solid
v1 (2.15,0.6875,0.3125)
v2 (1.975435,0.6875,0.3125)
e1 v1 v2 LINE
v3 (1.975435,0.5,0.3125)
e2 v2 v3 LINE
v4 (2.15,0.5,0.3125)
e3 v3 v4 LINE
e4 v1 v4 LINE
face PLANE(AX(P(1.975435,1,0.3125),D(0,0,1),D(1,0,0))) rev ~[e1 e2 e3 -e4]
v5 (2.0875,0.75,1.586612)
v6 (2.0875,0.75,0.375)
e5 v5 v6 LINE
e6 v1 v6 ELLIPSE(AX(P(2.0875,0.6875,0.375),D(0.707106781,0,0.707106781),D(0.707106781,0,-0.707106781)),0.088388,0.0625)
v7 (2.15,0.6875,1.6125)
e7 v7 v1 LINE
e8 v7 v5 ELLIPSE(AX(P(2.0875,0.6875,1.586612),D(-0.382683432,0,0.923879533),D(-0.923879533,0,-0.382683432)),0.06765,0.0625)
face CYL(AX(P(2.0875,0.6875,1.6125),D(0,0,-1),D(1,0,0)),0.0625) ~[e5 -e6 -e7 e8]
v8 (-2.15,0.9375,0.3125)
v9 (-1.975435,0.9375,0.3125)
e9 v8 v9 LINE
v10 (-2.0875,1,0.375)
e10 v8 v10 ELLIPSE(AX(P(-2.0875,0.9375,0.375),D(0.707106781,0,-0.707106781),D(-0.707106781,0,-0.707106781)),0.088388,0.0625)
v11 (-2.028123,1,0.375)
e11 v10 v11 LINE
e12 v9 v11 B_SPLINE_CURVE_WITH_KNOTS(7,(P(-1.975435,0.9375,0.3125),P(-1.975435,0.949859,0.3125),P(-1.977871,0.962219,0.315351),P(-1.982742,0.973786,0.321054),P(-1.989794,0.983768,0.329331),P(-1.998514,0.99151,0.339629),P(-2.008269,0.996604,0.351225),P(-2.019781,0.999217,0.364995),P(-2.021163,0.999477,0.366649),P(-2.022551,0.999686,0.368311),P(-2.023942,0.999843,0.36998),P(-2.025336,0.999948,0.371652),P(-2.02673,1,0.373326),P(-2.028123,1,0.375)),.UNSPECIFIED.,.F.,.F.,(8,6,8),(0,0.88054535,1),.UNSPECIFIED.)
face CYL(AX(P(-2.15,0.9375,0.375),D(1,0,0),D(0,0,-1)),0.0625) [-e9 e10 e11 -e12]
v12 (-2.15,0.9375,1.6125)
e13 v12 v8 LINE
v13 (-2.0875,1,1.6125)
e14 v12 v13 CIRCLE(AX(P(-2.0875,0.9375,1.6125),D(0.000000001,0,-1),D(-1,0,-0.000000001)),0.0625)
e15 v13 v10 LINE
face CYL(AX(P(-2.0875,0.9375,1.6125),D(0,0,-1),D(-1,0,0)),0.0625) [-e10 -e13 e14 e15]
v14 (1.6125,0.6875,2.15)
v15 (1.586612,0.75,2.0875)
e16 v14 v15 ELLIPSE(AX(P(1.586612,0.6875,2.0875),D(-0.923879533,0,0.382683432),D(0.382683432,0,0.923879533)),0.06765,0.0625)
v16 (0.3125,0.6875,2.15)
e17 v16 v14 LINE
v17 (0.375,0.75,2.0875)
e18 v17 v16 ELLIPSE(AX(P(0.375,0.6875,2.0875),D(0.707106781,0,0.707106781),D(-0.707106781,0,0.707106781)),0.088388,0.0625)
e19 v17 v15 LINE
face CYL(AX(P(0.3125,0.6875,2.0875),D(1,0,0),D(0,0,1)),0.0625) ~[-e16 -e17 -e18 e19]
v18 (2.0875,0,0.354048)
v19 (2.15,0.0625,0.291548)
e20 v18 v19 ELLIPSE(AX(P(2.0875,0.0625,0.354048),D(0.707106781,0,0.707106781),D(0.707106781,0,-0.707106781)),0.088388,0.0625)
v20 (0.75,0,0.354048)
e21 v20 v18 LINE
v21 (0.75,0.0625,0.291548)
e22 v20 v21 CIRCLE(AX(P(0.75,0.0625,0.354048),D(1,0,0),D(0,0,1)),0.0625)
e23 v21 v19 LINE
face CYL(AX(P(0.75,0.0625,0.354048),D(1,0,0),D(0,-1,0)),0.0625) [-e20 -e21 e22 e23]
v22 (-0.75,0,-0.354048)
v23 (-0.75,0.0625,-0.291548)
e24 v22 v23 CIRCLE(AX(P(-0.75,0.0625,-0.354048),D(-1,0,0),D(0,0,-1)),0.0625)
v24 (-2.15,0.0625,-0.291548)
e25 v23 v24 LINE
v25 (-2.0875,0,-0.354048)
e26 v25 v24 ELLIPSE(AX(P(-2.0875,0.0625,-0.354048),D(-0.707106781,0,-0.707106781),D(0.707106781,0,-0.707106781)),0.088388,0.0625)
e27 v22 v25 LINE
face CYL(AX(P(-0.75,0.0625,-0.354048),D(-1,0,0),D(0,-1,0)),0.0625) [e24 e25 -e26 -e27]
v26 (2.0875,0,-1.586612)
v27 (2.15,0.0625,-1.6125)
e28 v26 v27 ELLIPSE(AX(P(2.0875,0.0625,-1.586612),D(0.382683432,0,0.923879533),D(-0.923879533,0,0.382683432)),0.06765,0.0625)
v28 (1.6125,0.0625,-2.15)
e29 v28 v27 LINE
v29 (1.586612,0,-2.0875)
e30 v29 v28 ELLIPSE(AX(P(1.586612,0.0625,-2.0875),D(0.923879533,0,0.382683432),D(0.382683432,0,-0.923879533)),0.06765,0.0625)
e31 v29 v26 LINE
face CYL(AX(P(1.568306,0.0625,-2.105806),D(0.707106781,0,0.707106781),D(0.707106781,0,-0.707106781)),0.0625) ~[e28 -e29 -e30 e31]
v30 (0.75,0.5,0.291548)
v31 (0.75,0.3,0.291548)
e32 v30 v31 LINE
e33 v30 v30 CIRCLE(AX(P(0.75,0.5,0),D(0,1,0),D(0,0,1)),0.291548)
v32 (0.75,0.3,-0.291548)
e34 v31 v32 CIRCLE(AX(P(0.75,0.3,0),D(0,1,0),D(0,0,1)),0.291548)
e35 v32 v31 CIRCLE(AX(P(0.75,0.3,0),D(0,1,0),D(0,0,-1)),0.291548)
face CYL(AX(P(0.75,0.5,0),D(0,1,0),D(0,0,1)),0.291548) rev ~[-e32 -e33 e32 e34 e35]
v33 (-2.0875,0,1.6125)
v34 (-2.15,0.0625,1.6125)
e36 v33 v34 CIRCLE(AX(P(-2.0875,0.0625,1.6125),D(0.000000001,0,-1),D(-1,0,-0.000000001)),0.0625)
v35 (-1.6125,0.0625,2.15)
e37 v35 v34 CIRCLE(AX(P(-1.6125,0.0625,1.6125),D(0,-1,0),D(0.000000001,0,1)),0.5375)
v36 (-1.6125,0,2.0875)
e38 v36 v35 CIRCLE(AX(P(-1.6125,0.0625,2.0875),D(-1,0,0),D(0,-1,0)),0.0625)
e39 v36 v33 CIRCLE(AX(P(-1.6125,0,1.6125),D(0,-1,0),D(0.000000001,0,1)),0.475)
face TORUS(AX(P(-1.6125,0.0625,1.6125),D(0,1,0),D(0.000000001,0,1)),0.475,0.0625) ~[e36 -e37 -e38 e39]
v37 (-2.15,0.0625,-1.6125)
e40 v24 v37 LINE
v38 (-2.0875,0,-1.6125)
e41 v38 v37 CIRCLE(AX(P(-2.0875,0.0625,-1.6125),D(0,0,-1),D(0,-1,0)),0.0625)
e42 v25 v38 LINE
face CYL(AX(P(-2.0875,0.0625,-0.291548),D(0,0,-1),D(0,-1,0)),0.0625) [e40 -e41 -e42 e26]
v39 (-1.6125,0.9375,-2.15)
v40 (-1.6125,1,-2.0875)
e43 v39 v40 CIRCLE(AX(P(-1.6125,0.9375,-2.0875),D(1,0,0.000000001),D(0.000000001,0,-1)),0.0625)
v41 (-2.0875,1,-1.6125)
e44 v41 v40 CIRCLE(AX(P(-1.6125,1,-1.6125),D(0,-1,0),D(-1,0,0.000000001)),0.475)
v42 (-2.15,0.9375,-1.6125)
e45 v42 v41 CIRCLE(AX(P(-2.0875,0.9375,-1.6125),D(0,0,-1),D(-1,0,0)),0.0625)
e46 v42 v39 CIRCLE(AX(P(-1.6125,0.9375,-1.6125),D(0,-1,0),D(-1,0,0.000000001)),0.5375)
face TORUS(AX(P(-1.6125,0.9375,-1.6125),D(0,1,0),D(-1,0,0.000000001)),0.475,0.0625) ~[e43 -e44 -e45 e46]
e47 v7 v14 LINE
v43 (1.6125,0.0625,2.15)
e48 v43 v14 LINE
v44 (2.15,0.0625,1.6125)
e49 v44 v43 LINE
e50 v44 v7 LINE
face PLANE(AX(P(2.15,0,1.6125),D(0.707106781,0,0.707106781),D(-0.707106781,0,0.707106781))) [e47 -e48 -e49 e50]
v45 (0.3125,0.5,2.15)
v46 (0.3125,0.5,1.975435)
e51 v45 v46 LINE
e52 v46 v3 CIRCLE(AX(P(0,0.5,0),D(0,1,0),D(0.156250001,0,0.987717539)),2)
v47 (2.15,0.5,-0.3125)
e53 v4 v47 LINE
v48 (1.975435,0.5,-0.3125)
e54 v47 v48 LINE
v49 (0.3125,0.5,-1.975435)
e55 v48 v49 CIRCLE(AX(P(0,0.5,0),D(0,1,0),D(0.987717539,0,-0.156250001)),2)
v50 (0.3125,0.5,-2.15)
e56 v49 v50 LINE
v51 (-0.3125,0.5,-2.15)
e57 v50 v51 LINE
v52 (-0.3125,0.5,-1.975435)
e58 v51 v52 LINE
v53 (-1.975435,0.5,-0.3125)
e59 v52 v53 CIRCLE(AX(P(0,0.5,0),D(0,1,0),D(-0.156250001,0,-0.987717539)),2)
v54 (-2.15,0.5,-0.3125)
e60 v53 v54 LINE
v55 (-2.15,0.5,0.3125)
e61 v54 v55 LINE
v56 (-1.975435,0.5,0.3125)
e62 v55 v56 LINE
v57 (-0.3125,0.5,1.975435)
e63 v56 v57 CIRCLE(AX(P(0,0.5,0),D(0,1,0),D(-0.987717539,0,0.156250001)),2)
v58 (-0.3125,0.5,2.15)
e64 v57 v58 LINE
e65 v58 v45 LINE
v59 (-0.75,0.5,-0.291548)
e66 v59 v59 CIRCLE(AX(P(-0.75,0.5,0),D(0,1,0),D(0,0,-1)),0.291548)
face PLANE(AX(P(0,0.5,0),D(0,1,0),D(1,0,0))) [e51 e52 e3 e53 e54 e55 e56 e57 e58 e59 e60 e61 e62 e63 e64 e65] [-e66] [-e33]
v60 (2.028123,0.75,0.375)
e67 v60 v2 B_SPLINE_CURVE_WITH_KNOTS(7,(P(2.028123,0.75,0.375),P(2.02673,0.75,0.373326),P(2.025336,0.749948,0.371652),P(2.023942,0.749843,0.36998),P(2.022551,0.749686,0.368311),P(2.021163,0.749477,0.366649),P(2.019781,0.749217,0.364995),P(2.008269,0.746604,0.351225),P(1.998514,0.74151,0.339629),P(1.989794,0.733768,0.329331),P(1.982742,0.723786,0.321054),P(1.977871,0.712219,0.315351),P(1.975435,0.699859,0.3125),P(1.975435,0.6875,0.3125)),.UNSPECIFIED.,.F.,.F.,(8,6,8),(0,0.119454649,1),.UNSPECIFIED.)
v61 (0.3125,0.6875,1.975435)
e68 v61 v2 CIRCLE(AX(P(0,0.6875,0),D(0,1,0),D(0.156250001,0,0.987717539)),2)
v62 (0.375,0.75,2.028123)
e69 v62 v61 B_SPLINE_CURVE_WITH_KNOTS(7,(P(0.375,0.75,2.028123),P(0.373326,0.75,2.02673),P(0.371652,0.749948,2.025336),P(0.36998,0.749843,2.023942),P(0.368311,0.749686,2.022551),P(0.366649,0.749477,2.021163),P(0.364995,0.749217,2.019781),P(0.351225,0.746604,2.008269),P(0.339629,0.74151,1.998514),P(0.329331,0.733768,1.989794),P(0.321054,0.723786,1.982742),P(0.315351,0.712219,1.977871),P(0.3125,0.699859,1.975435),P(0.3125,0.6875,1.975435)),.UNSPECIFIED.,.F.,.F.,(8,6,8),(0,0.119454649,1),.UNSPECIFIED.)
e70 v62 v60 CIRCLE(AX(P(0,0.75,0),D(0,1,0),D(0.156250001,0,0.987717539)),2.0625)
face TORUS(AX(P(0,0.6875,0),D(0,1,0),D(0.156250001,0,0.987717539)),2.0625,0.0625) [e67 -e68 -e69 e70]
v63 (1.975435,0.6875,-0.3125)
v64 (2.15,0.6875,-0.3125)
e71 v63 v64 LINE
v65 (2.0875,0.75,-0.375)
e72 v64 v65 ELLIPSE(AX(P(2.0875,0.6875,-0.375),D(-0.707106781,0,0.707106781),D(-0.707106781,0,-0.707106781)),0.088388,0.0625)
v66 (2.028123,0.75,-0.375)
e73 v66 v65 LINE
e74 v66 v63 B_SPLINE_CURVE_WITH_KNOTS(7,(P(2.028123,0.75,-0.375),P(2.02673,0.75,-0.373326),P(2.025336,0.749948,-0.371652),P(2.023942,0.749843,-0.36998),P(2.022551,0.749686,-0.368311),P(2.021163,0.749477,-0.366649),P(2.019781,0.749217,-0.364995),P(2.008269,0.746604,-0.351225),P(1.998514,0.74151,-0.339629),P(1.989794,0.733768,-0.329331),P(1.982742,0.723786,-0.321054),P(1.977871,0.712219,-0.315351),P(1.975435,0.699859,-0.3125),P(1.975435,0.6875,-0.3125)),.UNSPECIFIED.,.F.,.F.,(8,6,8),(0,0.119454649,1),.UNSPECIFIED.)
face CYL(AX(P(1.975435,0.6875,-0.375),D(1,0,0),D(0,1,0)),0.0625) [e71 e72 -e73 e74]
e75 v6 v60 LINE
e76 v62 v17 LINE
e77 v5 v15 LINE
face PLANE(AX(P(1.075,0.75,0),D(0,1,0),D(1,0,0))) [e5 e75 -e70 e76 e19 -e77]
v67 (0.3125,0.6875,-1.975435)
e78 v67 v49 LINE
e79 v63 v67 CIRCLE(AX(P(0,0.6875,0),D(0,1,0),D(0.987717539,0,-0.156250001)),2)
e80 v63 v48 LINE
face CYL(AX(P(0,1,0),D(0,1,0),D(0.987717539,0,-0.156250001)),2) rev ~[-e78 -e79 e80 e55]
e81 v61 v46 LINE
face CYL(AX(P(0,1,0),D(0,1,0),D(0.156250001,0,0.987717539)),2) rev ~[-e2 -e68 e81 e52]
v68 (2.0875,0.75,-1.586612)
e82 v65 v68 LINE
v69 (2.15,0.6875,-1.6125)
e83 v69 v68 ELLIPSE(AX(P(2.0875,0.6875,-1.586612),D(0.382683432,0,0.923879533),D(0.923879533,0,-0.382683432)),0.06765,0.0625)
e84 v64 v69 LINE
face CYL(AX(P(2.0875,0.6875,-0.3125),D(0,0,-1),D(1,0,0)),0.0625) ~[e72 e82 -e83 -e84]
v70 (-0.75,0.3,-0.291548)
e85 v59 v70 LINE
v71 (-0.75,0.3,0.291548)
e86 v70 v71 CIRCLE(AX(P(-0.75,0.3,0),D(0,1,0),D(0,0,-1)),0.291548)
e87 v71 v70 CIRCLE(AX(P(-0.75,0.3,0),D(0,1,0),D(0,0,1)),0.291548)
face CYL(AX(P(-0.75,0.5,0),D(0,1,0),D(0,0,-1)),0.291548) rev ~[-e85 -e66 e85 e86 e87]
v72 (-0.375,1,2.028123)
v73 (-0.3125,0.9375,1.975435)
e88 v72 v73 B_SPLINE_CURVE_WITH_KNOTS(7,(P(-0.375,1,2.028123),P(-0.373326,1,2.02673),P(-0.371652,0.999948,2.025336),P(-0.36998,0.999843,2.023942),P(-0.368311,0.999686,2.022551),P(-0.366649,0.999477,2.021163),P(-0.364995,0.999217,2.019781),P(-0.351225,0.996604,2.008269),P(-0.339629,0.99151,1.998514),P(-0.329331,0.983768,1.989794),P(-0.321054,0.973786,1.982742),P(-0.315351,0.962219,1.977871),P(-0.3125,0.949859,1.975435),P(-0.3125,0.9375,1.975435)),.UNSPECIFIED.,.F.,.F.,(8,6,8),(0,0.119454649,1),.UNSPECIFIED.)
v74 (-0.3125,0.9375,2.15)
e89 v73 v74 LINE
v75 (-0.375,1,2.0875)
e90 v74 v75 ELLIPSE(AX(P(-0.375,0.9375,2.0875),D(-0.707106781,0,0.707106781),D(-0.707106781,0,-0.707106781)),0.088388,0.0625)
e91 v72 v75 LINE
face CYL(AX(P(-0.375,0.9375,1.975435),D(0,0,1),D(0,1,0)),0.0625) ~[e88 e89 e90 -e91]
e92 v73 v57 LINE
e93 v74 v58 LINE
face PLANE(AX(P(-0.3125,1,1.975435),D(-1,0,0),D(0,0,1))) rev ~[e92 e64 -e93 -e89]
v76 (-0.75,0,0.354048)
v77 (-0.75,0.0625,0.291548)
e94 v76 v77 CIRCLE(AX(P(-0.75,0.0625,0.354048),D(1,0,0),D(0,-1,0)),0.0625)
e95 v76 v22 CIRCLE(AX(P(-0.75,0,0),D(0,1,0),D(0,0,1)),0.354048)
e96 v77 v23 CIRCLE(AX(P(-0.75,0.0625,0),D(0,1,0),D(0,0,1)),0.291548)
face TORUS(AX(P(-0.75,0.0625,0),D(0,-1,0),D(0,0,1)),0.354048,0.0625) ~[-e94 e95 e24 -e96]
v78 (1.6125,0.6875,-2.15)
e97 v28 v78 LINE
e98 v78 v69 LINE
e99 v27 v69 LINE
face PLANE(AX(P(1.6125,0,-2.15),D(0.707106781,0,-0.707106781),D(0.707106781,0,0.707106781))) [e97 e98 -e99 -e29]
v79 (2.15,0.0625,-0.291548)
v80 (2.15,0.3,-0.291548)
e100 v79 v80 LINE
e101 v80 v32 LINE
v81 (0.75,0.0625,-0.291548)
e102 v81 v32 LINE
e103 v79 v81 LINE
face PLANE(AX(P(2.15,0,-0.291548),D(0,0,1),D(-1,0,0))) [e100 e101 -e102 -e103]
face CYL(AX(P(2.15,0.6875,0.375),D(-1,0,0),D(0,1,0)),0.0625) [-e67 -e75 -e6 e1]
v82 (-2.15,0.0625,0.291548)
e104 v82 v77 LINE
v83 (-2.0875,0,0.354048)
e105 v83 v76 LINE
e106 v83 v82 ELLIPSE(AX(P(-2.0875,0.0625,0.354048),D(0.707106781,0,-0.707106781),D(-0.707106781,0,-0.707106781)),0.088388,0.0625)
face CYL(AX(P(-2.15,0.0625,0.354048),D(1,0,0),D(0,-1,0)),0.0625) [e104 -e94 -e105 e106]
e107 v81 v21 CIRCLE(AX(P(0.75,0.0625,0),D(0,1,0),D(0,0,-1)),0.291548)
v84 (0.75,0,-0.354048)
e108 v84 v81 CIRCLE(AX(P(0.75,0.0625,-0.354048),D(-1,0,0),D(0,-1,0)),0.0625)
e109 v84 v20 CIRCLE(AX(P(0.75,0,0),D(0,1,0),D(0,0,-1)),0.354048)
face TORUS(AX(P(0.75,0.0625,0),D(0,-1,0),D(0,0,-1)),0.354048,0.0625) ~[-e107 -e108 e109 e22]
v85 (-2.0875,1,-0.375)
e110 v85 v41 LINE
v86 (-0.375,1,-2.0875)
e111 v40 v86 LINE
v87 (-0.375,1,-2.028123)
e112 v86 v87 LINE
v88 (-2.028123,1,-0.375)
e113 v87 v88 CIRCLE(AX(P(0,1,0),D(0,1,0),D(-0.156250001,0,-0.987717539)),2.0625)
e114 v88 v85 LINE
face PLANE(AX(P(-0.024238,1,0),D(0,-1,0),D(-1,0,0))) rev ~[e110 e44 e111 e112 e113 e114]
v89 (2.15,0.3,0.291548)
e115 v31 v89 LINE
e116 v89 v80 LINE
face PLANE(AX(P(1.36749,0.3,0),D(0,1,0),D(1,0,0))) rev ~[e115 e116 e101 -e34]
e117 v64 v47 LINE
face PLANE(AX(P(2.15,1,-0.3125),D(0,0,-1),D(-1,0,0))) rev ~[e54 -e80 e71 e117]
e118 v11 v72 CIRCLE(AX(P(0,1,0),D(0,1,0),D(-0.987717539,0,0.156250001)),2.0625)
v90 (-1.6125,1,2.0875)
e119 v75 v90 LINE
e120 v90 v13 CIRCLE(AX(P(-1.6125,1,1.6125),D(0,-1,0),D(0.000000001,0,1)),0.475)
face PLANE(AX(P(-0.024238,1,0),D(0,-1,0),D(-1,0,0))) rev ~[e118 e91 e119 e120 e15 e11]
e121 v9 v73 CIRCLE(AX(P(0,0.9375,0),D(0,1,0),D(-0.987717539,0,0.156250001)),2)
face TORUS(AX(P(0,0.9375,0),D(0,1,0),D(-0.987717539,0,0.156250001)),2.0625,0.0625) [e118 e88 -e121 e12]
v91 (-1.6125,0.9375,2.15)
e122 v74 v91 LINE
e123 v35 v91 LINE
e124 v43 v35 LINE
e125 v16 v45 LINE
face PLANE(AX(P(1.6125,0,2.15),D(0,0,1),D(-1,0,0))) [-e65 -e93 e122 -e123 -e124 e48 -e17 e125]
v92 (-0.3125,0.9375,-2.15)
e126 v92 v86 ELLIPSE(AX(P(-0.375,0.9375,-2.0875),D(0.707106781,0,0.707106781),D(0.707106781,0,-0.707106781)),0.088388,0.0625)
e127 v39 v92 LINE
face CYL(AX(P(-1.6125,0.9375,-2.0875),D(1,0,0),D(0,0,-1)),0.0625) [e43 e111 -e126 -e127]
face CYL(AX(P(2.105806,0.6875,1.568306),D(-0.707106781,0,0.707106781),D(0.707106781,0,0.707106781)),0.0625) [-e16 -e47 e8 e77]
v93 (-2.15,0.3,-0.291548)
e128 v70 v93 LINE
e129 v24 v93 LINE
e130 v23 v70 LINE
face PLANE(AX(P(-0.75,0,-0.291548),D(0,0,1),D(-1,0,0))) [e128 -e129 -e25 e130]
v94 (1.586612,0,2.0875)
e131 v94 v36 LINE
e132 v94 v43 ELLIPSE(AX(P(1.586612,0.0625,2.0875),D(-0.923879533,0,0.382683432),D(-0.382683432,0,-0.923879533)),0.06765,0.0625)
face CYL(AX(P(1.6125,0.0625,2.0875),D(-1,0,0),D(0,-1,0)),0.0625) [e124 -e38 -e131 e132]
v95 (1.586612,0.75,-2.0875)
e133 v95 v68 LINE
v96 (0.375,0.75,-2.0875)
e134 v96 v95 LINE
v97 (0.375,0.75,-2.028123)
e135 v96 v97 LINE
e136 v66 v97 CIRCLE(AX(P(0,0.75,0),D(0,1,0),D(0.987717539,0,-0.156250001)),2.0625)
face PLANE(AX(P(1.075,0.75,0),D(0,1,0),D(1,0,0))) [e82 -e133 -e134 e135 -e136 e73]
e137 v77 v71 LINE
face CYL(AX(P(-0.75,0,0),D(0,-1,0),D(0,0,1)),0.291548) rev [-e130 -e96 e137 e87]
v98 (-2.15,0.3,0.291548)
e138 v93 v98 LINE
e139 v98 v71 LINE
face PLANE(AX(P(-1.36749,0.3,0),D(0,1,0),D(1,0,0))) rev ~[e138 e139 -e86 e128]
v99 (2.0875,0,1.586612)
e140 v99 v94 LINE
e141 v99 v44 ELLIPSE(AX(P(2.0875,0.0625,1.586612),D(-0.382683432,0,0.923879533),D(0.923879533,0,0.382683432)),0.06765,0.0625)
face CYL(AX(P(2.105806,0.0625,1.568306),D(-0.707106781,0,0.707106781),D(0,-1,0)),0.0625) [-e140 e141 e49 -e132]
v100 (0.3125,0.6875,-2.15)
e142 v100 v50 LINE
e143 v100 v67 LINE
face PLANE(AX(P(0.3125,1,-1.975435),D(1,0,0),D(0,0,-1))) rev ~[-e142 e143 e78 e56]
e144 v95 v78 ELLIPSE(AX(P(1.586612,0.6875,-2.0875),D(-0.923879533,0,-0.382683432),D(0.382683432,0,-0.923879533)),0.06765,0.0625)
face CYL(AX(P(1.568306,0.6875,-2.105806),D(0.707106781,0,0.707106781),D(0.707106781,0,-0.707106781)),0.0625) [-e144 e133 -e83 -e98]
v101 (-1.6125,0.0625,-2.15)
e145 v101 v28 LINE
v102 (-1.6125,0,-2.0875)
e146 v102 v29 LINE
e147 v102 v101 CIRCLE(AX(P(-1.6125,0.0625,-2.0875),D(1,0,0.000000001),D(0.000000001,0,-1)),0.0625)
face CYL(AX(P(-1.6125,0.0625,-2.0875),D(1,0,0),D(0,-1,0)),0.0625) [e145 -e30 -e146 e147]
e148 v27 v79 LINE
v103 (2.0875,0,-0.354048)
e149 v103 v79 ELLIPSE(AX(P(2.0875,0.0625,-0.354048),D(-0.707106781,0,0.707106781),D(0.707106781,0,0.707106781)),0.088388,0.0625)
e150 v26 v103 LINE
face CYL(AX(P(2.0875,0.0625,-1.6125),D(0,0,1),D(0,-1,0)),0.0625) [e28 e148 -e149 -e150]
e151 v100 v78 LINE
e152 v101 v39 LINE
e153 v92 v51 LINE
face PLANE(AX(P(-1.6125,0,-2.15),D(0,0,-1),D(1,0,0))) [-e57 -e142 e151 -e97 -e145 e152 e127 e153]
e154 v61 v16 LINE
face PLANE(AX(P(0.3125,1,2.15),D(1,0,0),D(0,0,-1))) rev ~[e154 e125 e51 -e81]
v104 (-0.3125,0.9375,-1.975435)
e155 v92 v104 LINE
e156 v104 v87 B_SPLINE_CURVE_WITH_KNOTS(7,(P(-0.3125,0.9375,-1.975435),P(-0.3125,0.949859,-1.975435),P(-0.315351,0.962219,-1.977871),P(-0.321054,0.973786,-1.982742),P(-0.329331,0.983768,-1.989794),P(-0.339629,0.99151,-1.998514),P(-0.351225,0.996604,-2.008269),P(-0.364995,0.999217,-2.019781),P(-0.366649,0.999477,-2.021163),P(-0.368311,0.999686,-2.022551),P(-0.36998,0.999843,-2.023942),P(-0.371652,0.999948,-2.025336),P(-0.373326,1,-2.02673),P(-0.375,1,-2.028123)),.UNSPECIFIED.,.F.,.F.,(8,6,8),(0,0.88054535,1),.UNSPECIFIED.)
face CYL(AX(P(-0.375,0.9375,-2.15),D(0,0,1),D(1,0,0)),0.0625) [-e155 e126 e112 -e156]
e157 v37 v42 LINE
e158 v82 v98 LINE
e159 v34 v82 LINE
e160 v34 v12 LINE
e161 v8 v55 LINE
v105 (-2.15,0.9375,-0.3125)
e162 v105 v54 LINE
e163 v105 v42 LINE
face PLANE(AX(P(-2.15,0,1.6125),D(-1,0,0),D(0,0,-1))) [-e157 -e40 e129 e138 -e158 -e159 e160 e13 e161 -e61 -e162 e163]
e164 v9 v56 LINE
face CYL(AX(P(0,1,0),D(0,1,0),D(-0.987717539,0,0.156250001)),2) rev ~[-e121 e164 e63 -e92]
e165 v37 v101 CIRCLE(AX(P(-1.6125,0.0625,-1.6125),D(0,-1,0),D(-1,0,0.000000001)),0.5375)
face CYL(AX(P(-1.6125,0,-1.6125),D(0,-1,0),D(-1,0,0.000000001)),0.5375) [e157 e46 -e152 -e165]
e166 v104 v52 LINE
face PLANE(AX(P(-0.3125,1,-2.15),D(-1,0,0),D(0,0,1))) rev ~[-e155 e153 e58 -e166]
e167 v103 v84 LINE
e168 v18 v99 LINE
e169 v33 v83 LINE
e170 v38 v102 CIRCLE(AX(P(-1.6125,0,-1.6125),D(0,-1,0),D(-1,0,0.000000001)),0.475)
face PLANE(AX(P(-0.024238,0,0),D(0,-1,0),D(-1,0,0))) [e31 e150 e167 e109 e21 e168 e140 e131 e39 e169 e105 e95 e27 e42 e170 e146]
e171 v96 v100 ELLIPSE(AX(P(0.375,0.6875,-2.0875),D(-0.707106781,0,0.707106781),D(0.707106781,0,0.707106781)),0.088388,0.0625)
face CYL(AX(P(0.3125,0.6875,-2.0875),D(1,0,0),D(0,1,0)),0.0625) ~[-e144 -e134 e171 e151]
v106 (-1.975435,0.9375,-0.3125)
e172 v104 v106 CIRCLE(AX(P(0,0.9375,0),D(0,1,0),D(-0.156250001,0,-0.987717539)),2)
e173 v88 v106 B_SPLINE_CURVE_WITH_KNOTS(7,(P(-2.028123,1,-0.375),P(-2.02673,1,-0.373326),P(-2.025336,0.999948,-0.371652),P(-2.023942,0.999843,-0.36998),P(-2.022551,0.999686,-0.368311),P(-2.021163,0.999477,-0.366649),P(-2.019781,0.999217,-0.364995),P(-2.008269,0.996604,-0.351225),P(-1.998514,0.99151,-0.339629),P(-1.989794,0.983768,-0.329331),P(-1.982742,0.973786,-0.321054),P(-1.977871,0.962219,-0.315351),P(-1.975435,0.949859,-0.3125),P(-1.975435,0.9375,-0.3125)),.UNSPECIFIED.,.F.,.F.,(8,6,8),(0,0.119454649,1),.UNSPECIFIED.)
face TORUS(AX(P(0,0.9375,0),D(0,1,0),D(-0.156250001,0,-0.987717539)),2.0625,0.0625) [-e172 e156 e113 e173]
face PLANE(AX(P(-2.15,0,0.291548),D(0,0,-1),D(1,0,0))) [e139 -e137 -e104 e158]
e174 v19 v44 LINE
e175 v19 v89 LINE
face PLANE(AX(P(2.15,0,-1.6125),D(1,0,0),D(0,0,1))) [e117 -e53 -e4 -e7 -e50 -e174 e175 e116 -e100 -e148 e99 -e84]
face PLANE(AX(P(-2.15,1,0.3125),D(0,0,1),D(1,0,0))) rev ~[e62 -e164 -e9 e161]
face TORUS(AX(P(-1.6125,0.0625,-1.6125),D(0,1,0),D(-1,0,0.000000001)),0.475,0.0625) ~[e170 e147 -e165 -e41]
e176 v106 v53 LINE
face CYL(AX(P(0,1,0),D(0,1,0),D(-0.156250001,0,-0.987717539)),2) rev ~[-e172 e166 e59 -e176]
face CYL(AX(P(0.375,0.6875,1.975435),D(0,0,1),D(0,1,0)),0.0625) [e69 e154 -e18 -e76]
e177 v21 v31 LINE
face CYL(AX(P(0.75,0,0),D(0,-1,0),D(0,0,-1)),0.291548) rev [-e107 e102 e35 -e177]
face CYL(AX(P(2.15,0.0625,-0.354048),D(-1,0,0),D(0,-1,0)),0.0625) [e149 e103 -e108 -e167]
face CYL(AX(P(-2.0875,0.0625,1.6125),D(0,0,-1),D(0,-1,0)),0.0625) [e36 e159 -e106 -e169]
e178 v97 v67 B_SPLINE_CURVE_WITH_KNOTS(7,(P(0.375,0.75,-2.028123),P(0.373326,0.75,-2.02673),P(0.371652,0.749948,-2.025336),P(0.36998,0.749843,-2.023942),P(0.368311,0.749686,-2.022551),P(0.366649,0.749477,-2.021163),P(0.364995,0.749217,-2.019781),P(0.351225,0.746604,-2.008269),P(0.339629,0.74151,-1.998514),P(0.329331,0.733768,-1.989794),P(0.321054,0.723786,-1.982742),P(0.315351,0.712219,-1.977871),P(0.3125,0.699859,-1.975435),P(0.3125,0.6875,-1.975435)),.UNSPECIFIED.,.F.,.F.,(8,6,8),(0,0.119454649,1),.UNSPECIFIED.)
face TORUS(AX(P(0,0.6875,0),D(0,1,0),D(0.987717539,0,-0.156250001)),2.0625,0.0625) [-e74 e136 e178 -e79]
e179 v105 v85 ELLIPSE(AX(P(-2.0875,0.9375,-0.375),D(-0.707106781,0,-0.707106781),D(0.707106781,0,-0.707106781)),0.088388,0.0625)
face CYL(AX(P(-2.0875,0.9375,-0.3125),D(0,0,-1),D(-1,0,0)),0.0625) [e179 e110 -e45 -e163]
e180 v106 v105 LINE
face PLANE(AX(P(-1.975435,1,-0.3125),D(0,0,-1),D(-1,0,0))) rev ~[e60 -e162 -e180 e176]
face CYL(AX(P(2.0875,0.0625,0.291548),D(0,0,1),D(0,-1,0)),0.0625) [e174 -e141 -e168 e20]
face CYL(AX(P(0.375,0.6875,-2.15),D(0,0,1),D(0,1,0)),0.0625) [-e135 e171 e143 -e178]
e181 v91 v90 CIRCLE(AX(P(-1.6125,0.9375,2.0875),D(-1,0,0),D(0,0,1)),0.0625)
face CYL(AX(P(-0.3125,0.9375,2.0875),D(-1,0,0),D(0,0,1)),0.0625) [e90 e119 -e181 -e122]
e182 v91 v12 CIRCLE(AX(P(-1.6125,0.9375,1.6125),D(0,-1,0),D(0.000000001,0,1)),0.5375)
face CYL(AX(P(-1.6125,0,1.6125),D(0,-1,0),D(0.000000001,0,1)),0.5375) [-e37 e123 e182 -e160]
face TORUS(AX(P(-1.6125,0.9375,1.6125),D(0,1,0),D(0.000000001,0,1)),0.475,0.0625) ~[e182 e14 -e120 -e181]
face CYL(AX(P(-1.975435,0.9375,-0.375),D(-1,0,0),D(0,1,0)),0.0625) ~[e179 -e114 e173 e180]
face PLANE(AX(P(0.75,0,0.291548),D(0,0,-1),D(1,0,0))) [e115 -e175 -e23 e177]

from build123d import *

# Parameters (mm, degrees)
SALIENTE_EXTRUIR1_DEPTH = 1
CORTAR_EXTRUIR1_DEPTH   = 0.5
CROQUIS4_W              = 2.15
CROQUIS4_H              = 4.3
CORTAR_EXTRUIR2_DEPTH   = 0.25
CORTAR_EXTRUIR3_DEPTH   = 0.3
CROQUIS6_R              = 0.291547595
CORTAR_EXTRUIR4_DEPTH   = 4.081395788
REDONDEO1_R             = 0.0625


with BuildPart() as part:
    # Croquis2 → Saliente-Extruir1 (new body)
    with BuildSketch(Plane(origin=(0, 0, 0), x_dir=(1, 0, 0), z_dir=(0, 1, 0))):
        with BuildLine():
            Line((1.6125, 2.15), (2.15, 1.6125))
            Line((2.15, 1.6125), (2.15, -1.6125))
            Line((2.15, -1.6125), (1.6125, -2.15))
            Line((1.6125, -2.15), (-1.6125, -2.15))
            ThreePointArc((-1.6125, -2.15), (-1.992569895, -1.992569895), (-2.15, -1.6125))
            Line((-2.15, -1.6125), (-2.15, 1.6125))
            ThreePointArc((-2.15, 1.6125), (-1.992569895, 1.992569895), (-1.6125, 2.15))
            Line((-1.6125, 2.15), (1.6125, 2.15))
        make_face()
    extrude(amount=SALIENTE_EXTRUIR1_DEPTH)

    # Croquis3 → Cortar-Extruir1 (cut)
    with BuildSketch(Plane(origin=(0, 1, 0), x_dir=(1, 0, 0), z_dir=(0, 1, 0))):
        with BuildLine():
            ThreePointArc((-0.3125, 1.975435079), (-1.414213562, 1.414213562), (-1.975435079, 0.3125))
            Line((-1.975435079, 0.3125), (-2.15, 0.3125))
            Line((-2.15, 0.3125), (-2.15, -0.3125))
            Line((-2.15, -0.3125), (-1.975435079, -0.3125))
            ThreePointArc((-1.975435079, -0.3125), (-1.414213562, -1.414213562), (-0.3125, -1.975435079))
            Line((-0.3125, -1.975435079), (-0.3125, -2.15))
            Line((-0.3125, -2.15), (0.3125, -2.15))
            Line((0.3125, -2.15), (0.3125, -1.975435079))
            ThreePointArc((0.3125, -1.975435079), (1.414213562, -1.414213562), (1.975435079, -0.3125))
            Line((1.975435079, -0.3125), (2.15, -0.3125))
            Line((2.15, -0.3125), (2.15, 0.3125))
            Line((2.15, 0.3125), (1.975435079, 0.3125))
            ThreePointArc((1.975435079, 0.3125), (1.414213562, 1.414213562), (0.3125, 1.975435079))
            Line((0.3125, 1.975435079), (0.3125, 2.15))
            Line((0.3125, 2.15), (-0.3125, 2.15))
            Line((-0.3125, 2.15), (-0.3125, 1.975435079))
        make_face()
    extrude(amount=-CORTAR_EXTRUIR1_DEPTH, mode=Mode.SUBTRACT)

    # Croquis4 → Cortar-Extruir2 (cut)
    with BuildSketch(Plane(origin=(0, 1, 0), x_dir=(1, 0, 0), z_dir=(0, 1, 0))):
        with Locations((1.075, 0)):
            Rectangle(CROQUIS4_W, CROQUIS4_H)
    extrude(amount=-CORTAR_EXTRUIR2_DEPTH, mode=Mode.SUBTRACT)

    # Croquis5 → Cortar-Extruir3 (cut)
    with BuildSketch(Plane(origin=(0, 0, 0), x_dir=(-1, 0, 0), z_dir=(0, -1, 0))):
        with BuildLine():
            Line((2.15, -0.291547595), (0.75, -0.291547595))
            ThreePointArc((0.75, -0.291547595), (0.458452405, 0), (0.75, 0.291547595))
            Line((0.75, 0.291547595), (2.15, 0.291547595))
            Line((2.15, 0.291547595), (2.15, -0.291547595))
        make_face()
        with BuildLine():
            Line((-2.15, -0.291547595), (-2.15, 0.291547595))
            Line((-2.15, 0.291547595), (-0.75, 0.291547595))
            ThreePointArc((-0.75, 0.291547595), (-0.458452405, 0), (-0.75, -0.291547595))
            Line((-0.75, -0.291547595), (-2.15, -0.291547595))
        make_face()
    extrude(amount=-CORTAR_EXTRUIR3_DEPTH, mode=Mode.SUBTRACT)

    # Croquis6 → Cortar-Extruir4 (cut, through all)
    with BuildSketch(Plane(origin=(0, 0.5, 0), x_dir=(1, 0, 0), z_dir=(0, 1, 0))):
        with Locations(Location((0.75, 0, 0), (0, 0, 270))):
            Circle(CROQUIS6_R)
        with Locations(Location((-0.75, 0, 0), (0, 0, 90))):
            Circle(CROQUIS6_R)
    extrude(amount=-CORTAR_EXTRUIR4_DEPTH, mode=Mode.SUBTRACT)

    # Redondeo1
    redondeo1_edges = [part.edges().sort_by_distance(p)[0] for p in [
        (-2.15, 1, -0.9625),
        (-1.992569895, 0, -1.992569895),
        (0, 0, -2.15),
        (2.15, 0, -0.952023797),
        (-2.15, 0, 0.952023797),
        (-1.45, 0, -0.291547595),
        (-0.458452405, 0, 0),
        (-1.45, 0, 0.291547595),
        (-1.992569895, 1, 1.992569895),
        (1.45, 0, 0.291547595),
        (0.458452405, 0, 0),
        (1.45, 0, -0.291547595),
        (-0.9625, 1, 2.15),
        (-0.9625, 1, -2.15),
        (-2.15, 1, 0.9625),
        (-0.3125, 1, -2.062717539),
        (-2.062717539, 1, 0.3125),
        (-1.414213562, 1, -1.414213562),
        (-2.062717539, 1, -0.3125),
        (-1.414213562, 1, 1.414213562),
        (-0.3125, 1, 2.062717539),
        (-1.992569895, 1, -1.992569895),
        (0.3125, 0.75, 2.062717539),
        (1.88125, 0, -1.88125),
        (2.15, 0, 0.952023797),
        (1.88125, 0, 1.88125),
        (0.9625, 0.75, -2.15),
        (2.15, 0.75, 0.9625),
        (2.15, 0.75, -0.9625),
        (0.9625, 0.75, 2.15),
        (1.88125, 0.75, 1.88125),
        (1.414213562, 0.75, 1.414213562),
        (2.062717539, 0.75, 0.3125),
        (1.88125, 0.75, -1.88125),
        (1.414213562, 0.75, -1.414213562),
        (0.3125, 0.75, -2.062717539),
        (0, 0, 2.15),
        (-1.992569895, 0, 1.992569895),
        (2.062717539, 0.75, -0.3125),
        (-2.15, 0, -0.952023797),
    ]]
    fillet(redondeo1_edges, radius=REDONDEO1_R)


solid = part.part
